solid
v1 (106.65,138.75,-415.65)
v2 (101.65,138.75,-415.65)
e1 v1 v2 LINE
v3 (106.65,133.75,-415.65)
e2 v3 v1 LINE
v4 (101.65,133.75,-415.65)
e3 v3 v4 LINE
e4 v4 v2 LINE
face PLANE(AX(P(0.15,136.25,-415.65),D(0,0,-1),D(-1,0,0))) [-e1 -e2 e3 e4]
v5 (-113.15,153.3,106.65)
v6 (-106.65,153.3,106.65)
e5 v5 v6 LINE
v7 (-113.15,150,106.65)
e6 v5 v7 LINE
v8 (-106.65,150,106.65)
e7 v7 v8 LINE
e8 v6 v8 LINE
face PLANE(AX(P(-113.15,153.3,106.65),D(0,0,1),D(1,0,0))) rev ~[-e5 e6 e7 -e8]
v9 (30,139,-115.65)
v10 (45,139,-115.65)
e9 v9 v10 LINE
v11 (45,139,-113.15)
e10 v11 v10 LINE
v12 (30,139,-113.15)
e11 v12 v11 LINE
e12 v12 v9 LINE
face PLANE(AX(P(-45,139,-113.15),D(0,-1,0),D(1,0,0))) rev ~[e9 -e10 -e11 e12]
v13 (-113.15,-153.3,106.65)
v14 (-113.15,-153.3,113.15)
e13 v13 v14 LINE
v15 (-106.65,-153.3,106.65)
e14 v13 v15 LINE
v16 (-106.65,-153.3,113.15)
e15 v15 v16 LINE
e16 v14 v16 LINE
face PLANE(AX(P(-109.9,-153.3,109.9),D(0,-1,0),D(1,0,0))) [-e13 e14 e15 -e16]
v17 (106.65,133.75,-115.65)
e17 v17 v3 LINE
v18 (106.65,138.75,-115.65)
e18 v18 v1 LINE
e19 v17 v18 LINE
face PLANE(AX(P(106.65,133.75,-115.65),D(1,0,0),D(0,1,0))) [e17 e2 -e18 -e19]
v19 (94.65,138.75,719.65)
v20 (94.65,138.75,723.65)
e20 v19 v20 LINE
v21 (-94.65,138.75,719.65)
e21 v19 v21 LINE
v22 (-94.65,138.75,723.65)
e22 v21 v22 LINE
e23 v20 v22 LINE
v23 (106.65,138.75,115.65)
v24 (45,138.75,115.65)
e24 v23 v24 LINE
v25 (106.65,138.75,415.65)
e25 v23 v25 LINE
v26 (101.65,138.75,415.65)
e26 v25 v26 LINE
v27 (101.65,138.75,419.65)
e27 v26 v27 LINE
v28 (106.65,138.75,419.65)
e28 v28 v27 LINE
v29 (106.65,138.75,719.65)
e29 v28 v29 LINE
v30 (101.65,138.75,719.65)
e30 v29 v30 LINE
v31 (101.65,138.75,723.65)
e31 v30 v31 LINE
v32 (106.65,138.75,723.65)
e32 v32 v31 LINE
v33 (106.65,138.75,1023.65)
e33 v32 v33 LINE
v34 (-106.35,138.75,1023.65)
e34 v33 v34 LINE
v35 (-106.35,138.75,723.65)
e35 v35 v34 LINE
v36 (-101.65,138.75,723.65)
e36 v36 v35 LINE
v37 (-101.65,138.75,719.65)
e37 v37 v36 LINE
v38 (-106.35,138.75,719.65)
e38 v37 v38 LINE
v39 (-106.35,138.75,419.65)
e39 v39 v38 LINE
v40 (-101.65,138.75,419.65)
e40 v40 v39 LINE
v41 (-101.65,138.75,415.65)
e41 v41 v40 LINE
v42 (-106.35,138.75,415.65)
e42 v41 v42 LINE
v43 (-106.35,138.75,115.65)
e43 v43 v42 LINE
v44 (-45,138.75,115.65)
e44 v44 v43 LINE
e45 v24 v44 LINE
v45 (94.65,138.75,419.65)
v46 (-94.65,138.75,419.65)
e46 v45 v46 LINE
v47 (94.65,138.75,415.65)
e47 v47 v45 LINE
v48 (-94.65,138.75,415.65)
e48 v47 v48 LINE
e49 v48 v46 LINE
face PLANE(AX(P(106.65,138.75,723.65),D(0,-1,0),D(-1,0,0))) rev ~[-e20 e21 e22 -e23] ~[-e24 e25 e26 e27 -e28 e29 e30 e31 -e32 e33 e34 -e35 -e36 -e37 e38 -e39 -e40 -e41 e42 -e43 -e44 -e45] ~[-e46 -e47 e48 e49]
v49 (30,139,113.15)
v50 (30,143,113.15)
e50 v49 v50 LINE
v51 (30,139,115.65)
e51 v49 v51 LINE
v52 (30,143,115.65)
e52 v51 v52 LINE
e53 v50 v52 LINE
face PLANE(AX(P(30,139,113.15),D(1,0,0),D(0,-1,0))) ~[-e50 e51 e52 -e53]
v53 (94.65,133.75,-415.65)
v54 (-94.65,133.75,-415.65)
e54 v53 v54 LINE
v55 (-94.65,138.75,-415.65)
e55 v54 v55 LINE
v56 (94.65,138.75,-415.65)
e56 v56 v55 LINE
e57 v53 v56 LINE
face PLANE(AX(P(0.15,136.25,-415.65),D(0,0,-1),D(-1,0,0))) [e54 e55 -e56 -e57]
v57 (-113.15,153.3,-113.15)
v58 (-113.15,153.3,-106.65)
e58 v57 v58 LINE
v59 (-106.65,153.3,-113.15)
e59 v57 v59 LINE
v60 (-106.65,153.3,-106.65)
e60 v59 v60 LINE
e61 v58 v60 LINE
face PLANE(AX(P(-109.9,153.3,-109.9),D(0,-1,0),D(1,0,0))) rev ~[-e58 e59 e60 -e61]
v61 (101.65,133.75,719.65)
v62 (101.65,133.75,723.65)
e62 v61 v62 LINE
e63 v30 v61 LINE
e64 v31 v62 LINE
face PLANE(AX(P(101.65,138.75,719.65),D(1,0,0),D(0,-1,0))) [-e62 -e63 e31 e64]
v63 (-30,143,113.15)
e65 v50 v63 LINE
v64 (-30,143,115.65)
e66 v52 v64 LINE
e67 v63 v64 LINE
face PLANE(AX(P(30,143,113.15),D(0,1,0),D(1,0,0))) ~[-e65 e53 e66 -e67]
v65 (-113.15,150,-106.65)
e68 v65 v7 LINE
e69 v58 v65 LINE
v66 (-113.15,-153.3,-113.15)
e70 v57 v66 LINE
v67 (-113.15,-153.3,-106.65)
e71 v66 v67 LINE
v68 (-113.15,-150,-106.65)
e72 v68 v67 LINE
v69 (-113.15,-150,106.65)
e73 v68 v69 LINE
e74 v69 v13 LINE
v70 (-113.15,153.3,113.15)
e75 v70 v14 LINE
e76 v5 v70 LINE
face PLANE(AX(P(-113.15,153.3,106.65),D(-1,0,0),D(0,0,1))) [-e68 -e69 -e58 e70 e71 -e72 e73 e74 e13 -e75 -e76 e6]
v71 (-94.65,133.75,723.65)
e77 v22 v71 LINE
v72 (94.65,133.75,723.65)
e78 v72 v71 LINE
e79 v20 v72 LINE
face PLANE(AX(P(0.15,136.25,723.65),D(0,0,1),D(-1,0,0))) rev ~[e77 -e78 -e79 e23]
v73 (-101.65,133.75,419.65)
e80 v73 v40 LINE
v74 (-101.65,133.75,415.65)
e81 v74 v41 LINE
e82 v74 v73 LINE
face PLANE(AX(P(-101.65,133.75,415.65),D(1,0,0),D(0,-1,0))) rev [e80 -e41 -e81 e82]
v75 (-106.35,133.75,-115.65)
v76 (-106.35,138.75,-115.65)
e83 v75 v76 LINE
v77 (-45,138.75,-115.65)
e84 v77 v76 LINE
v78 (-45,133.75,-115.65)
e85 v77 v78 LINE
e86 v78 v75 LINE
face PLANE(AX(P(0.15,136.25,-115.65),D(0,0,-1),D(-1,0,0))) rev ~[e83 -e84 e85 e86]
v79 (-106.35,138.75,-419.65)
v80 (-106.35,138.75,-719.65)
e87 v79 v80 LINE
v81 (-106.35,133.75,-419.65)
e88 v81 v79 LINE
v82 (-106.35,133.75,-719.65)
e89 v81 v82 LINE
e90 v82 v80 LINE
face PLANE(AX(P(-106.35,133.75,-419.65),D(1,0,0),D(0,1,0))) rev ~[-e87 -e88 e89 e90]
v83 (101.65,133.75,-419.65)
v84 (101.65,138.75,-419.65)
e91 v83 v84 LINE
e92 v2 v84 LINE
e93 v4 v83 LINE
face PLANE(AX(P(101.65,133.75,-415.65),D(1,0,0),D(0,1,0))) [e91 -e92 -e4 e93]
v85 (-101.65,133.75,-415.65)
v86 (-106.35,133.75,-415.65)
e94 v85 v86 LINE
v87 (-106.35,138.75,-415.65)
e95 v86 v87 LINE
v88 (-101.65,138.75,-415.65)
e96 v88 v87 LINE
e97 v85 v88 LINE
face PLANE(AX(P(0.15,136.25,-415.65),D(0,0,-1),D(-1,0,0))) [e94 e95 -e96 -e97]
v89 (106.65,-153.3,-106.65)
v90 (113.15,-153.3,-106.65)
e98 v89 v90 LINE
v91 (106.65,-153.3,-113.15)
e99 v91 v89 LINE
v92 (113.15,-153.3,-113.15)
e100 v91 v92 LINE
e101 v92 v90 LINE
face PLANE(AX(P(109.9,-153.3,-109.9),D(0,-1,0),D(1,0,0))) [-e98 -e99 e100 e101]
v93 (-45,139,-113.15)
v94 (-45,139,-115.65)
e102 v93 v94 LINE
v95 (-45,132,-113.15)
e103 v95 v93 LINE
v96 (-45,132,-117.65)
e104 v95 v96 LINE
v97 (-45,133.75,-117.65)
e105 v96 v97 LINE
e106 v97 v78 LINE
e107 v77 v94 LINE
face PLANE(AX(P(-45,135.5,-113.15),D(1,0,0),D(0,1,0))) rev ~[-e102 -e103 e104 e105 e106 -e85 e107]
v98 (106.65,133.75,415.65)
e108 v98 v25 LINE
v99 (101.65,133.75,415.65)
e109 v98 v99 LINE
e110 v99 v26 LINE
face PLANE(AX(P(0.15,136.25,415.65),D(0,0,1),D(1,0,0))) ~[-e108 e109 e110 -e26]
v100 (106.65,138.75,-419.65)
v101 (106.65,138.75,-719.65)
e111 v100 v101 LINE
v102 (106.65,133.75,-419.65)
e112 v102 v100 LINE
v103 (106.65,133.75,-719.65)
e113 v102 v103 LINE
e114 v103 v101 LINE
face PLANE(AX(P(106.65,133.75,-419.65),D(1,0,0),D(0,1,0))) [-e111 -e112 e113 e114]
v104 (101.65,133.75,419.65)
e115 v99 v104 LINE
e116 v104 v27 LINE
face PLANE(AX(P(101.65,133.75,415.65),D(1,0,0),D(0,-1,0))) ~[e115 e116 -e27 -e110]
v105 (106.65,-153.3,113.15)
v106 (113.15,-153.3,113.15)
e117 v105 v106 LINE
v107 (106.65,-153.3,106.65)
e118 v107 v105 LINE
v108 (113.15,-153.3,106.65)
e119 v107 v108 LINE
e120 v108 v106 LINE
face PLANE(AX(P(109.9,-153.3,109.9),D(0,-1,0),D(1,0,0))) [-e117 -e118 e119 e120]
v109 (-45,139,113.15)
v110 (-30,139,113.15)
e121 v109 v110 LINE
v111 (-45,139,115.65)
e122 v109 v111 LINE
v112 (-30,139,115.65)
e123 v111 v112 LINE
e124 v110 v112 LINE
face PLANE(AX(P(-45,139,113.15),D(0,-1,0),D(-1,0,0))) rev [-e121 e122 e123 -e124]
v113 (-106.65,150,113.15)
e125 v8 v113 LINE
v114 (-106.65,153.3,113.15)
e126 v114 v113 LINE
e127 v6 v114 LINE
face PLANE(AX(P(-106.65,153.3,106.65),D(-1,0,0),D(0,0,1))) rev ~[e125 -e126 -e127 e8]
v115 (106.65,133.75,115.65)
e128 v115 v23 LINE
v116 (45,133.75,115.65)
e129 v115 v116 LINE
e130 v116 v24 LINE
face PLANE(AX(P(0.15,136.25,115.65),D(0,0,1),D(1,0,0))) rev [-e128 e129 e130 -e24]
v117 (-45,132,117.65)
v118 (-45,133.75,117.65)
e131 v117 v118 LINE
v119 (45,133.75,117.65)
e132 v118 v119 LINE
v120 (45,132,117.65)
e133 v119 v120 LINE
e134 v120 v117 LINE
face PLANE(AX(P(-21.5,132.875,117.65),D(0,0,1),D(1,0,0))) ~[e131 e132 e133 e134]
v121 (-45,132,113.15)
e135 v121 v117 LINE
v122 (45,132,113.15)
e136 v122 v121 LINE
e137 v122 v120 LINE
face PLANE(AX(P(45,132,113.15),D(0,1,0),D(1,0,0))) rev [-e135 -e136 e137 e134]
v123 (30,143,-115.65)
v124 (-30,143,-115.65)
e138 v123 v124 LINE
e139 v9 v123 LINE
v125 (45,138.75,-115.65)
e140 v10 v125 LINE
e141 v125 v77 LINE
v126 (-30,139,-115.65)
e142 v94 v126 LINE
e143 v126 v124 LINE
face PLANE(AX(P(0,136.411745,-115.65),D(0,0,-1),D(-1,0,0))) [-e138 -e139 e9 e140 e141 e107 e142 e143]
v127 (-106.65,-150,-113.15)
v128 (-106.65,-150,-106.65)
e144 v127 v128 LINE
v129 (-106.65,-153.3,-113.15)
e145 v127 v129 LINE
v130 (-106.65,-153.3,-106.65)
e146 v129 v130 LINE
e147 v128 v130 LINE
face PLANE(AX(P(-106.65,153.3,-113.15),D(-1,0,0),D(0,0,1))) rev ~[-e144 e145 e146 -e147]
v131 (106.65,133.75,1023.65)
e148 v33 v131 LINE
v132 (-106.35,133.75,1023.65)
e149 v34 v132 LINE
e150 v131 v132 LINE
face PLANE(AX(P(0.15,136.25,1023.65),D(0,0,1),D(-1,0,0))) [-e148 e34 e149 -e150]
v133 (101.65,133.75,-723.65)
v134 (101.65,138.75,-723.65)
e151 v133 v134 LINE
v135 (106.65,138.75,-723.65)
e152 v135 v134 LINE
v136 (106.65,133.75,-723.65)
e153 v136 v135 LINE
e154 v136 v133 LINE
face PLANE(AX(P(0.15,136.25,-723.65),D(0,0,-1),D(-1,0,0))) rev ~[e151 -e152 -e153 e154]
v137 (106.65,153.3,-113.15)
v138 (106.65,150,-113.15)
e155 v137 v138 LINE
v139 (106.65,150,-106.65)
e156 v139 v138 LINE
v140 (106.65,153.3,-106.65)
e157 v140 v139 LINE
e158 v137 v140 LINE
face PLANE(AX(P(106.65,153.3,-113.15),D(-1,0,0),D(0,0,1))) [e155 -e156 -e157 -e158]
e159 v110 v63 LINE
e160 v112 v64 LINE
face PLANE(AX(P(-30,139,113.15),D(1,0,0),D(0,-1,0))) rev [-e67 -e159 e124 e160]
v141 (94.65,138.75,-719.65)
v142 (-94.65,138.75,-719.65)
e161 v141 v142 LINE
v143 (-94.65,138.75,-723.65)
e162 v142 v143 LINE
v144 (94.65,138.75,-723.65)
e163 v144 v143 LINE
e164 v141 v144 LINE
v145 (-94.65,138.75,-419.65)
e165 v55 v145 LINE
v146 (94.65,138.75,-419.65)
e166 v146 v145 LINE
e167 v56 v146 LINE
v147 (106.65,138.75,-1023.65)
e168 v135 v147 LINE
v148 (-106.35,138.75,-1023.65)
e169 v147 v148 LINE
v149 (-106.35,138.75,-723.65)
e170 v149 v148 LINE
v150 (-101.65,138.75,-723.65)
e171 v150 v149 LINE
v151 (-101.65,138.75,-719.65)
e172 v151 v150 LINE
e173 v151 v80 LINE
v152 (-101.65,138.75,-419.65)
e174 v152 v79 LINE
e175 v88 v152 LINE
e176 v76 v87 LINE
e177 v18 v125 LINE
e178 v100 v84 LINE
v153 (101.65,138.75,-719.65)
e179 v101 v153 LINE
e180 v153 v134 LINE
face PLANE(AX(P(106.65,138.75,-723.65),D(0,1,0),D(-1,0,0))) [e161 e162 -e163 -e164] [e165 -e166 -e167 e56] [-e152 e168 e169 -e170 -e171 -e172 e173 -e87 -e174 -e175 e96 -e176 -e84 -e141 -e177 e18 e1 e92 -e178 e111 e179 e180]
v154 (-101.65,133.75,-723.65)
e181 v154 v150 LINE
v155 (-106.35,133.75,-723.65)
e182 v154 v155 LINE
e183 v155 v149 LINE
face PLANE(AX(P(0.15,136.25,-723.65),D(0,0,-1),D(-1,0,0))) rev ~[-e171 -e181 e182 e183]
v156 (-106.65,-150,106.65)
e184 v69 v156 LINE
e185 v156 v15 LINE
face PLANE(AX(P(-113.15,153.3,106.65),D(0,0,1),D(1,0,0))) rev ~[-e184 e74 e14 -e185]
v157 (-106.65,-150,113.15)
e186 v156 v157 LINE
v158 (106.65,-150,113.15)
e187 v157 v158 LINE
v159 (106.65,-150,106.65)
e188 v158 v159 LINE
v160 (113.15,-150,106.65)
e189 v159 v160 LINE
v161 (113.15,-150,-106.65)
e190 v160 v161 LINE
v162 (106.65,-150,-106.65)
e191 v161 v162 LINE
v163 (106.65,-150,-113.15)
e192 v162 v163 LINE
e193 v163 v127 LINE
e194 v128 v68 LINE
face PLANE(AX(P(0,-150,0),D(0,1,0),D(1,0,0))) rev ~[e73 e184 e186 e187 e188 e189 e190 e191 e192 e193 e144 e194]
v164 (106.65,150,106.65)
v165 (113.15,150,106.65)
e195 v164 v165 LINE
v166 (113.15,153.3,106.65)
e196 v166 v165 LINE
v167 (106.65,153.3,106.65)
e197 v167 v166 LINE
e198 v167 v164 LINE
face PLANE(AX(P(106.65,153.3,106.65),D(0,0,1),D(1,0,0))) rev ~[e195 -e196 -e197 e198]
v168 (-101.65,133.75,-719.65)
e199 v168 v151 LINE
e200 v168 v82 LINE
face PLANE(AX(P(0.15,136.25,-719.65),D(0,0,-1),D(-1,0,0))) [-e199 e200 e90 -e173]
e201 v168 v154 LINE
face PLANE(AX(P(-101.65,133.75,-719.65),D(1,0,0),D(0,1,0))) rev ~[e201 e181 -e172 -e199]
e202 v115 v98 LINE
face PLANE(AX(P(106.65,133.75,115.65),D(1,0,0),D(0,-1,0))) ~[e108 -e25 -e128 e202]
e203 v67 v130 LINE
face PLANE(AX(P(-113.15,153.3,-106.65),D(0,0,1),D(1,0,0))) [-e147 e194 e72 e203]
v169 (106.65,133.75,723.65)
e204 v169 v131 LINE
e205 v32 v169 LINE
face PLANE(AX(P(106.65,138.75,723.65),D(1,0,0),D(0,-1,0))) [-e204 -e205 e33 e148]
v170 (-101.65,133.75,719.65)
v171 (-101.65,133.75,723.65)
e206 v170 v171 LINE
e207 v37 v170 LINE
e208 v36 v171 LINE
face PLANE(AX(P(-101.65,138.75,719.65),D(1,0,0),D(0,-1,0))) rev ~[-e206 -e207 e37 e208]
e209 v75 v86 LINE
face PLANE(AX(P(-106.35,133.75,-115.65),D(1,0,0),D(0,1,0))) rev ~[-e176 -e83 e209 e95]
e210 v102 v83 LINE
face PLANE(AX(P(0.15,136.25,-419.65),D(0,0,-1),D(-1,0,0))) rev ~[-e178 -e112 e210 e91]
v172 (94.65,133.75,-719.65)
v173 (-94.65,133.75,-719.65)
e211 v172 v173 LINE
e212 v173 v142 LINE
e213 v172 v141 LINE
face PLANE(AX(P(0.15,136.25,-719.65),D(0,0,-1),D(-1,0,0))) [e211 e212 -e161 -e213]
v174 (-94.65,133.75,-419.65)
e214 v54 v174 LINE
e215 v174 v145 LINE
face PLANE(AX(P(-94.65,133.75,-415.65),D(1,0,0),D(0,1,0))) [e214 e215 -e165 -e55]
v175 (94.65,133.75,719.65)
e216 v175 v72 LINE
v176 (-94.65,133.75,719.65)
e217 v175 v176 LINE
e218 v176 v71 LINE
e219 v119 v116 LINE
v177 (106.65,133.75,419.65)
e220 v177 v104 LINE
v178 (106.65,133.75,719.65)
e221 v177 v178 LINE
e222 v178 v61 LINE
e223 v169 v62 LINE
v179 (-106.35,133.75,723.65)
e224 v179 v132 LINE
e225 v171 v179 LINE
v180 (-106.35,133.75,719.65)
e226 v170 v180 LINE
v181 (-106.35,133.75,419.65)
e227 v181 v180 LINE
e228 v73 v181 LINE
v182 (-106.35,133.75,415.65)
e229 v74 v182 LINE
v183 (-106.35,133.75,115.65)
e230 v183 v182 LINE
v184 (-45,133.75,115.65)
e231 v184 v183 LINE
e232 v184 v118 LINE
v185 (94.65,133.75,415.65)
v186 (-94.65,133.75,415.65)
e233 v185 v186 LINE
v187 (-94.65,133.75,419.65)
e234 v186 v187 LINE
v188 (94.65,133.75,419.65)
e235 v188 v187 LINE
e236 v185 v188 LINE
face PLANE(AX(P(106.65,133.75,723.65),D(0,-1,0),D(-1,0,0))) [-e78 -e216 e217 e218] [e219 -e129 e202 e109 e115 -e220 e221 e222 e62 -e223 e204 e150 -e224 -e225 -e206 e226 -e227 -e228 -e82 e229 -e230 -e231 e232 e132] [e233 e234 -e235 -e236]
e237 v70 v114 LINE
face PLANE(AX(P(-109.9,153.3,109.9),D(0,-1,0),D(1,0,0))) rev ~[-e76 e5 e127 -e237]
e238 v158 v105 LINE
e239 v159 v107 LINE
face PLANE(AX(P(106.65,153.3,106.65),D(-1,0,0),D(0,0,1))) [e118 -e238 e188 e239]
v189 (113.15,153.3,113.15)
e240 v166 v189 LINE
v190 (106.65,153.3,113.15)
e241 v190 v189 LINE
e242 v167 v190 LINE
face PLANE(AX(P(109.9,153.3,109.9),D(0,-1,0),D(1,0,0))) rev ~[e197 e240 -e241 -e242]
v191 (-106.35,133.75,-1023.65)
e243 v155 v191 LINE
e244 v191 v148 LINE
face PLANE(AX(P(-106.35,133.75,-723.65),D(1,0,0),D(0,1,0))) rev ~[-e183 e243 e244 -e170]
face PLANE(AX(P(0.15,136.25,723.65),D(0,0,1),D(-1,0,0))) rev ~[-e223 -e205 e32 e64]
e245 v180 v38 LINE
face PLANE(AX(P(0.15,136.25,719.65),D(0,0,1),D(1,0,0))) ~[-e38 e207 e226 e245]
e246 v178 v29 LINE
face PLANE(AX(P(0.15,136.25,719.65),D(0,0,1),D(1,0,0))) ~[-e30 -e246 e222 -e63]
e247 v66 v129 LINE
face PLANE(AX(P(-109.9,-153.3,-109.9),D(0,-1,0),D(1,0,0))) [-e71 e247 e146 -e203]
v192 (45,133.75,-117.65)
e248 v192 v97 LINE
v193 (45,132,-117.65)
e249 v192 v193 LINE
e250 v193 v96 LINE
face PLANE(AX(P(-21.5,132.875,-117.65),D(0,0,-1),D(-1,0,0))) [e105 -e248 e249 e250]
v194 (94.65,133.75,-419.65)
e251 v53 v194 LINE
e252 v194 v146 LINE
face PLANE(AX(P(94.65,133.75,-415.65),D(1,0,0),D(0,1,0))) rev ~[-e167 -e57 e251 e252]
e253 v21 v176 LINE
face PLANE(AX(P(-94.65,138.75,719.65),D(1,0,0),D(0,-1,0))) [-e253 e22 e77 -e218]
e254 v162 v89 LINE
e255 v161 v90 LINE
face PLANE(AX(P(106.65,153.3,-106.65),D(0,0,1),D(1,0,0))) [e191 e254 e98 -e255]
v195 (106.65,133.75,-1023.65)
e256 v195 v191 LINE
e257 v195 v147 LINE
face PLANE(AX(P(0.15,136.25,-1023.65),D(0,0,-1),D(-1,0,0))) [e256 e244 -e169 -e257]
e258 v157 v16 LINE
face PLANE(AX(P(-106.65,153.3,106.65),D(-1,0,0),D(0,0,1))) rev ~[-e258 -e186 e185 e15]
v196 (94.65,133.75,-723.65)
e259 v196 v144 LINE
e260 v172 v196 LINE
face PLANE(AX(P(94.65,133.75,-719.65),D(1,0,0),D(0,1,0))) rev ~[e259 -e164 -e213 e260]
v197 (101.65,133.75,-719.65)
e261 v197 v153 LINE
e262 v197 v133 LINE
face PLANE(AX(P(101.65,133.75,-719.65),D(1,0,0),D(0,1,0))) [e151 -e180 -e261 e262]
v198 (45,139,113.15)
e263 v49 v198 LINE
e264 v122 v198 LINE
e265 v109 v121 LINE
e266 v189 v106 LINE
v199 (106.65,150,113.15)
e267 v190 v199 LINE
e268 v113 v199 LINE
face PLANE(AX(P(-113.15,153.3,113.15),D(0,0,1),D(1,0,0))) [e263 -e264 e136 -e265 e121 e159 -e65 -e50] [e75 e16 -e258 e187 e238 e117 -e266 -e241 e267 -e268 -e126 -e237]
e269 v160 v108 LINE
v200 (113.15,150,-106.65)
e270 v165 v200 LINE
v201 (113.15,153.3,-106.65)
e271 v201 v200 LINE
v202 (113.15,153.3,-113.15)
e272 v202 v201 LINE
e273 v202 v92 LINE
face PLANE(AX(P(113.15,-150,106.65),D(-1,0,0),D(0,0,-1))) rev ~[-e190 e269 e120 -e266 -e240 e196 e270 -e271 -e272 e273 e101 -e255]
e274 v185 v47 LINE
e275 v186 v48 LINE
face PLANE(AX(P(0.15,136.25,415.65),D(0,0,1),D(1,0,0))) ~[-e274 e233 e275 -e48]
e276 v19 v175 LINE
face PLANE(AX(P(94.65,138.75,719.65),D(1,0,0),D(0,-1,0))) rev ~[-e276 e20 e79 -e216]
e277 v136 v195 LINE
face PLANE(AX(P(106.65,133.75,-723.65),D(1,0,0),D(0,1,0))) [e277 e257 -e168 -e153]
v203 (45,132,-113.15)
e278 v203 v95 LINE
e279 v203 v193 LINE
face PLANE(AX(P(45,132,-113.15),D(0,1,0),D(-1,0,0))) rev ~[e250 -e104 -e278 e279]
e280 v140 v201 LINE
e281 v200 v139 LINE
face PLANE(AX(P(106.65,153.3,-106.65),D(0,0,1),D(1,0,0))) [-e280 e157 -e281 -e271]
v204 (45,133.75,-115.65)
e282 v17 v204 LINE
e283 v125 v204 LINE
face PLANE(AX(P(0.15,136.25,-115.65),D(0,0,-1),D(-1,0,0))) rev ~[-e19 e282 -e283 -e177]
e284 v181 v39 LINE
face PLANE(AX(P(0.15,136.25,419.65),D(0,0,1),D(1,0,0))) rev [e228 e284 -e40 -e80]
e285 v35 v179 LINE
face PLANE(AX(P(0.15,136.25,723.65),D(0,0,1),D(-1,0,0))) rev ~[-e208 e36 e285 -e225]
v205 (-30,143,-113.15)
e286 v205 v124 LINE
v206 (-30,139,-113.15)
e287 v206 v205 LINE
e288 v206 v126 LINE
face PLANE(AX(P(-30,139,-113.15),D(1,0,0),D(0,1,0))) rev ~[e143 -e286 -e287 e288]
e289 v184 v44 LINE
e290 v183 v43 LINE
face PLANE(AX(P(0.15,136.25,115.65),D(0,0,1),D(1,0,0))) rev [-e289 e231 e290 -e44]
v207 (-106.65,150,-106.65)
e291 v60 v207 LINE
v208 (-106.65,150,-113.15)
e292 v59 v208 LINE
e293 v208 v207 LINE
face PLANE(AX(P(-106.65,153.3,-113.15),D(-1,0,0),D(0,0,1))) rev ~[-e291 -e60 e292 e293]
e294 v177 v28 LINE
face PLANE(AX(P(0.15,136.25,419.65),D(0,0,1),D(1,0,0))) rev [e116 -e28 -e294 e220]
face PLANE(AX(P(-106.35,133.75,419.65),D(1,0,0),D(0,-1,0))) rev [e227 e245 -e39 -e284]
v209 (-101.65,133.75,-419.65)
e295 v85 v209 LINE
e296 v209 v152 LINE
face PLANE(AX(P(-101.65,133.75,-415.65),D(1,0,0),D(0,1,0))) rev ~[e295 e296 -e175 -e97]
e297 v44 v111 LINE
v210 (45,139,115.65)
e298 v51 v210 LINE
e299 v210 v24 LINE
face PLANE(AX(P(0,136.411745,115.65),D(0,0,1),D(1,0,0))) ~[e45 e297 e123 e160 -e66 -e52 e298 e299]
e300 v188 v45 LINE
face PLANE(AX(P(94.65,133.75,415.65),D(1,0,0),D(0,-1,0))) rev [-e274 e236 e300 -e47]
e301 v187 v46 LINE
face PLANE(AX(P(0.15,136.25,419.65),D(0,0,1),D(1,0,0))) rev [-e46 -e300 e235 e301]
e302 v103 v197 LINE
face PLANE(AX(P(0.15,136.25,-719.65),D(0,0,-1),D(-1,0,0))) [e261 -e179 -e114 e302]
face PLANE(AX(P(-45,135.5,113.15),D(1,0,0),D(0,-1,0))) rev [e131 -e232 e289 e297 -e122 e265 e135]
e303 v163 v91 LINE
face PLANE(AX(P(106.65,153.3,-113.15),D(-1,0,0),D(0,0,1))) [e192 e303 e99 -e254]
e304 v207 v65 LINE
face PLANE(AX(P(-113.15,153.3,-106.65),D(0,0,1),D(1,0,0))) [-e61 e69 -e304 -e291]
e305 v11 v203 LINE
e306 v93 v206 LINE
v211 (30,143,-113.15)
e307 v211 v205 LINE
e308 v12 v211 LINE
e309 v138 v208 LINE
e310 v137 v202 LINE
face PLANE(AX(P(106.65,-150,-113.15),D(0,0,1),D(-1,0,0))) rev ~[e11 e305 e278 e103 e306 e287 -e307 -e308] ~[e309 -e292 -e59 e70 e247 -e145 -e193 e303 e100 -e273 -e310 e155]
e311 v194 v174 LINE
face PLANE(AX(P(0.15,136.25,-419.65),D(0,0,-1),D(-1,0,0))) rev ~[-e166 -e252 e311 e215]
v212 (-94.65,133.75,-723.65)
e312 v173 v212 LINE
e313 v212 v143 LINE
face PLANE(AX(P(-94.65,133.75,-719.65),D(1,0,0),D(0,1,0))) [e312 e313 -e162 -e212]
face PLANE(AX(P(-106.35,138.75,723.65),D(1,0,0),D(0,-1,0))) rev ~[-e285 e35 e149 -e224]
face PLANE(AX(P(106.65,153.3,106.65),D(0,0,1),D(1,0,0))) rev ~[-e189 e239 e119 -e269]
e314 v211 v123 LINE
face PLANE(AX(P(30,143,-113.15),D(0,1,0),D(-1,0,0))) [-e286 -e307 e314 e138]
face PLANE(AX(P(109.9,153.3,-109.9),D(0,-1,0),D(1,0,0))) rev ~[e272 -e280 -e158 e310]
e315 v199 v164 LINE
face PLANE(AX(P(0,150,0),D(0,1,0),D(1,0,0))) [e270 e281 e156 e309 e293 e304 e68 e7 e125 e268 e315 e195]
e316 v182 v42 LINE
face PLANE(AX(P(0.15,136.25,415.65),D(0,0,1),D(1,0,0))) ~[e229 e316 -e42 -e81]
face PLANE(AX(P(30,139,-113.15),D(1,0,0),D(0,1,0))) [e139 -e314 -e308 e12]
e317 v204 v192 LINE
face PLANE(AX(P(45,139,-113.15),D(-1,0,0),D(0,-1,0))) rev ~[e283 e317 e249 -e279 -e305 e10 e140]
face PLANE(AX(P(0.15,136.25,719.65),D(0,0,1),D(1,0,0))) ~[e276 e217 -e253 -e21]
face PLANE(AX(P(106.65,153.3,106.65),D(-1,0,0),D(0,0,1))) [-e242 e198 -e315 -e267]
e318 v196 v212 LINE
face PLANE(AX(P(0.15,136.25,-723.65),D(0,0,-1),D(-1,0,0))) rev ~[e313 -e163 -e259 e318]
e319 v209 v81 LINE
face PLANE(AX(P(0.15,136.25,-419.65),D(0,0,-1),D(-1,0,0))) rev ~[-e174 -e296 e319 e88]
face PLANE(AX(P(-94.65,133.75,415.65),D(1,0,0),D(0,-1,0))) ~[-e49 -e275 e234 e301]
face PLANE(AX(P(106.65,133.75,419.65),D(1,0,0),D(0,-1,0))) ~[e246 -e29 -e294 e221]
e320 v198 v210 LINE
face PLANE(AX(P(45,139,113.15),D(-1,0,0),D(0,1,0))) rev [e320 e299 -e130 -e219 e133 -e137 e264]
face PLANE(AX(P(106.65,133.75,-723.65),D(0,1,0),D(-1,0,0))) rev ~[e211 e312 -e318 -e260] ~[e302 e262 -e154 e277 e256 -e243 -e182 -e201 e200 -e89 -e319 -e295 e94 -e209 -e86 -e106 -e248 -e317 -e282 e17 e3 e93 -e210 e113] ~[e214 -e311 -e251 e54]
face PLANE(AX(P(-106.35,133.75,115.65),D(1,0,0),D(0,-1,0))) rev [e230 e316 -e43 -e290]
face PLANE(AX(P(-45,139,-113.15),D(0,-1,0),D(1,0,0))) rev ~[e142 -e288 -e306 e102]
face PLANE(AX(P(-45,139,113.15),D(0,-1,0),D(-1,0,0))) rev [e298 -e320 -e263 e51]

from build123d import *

# Parameters (mm, degrees)
ESTRUSIONE_ESTRUSIONE2_DEPTH      = 150
ESTRUSIONE_ESTRUSIONE2_DEPTH_BACK = 150
ESTRUSIONE_ESTRUSIONE3_DEPTH      = 3.3
ESTRUSIONE_ESTRUSIONE3_DEPTH_BACK = 303.3
SCHIZZO3_W                        = 6.5
SCHIZZO3_H                        = 6.5
SCHIZZO11_W                       = 60
SCHIZZO11_H                       = 4
ESTRUSIONE_ESTRUSIONE10_DEPTH     = 2.5
ESTRUSIONE_ESTRUSIONE11_DEPTH     = 2.5
ESTRUSIONE_ESTRUSIONE12_DEPTH     = 4.5
SCHIZZO13_W                       = 213
SCHIZZO13_H                       = 5
ESTRUSIONE_ESTRUSIONE13_DEPTH     = 300
SCHIZZO15_W                       = 7
SCHIZZO15_H                       = 5
ESTRUSIONE_ESTRUSIONE14_DEPTH     = 4
SCHIZZO16_W                       = 213
SCHIZZO16_H                       = 5
ESTRUSIONE_ESTRUSIONE15_DEPTH     = 300
RIPETIZIONE_A_L2_COUNT            = 2
RIPETIZIONE_A_L2_PITCH            = 304
SPECCHIA2_COPY_1_SKETCH_W         = 7
SPECCHIA2_COPY_1_SKETCH_H         = 5
SPECCHIA2_COPY_1_DEPTH            = 4
SPECCHIA2_COPY_2_SKETCH_W         = 213
SPECCHIA2_COPY_2_SKETCH_H         = 5
SPECCHIA2_COPY_2_DEPTH            = 300


with BuildPart() as part:
    # Schizzo2 → Estrusione-Estrusione2 (new, two sides: drawn at the far end of the back side and taken through both)
    with BuildSketch(Plane(origin=(0, 0, 0), x_dir=(1, 0, 0), z_dir=(0, 1, 0)).offset(-ESTRUSIONE_ESTRUSIONE2_DEPTH_BACK)):
        Polygon((-113.15, 106.65), (-113.15, -106.65), (-106.65, -106.65), (-106.65, -113.15), (106.65, -113.15), (106.65, -106.65), (113.15, -106.65), (113.15, 106.65), (106.65, 106.65), (106.65, 113.15), (-106.65, 113.15), (-106.65, 106.65), align=None)
    extrude(amount=ESTRUSIONE_ESTRUSIONE2_DEPTH + ESTRUSIONE_ESTRUSIONE2_DEPTH_BACK)

    # Schizzo3 → Estrusione-Estrusione3 (add, two sides: drawn at the far end of the back side and taken through both)
    with BuildSketch(Plane.XZ.offset(150).offset(-ESTRUSIONE_ESTRUSIONE3_DEPTH_BACK)):
        with Locations((-109.9, 109.9)):
            Rectangle(SCHIZZO3_W, SCHIZZO3_H)
        with Locations((109.9, 109.9)):
            Rectangle(SCHIZZO3_W, SCHIZZO3_H)
        with Locations((109.9, -109.9)):
            Rectangle(SCHIZZO3_W, SCHIZZO3_H)
        with Locations((-109.9, -109.9)):
            Rectangle(SCHIZZO3_W, SCHIZZO3_H)
    extrude(amount=ESTRUSIONE_ESTRUSIONE3_DEPTH + ESTRUSIONE_ESTRUSIONE3_DEPTH_BACK)

    # Schizzo11 → Estrusione-Estrusione10 (add)
    with BuildSketch(Plane(origin=(0, 0, -113.15), x_dir=(-1, 0, 0), z_dir=(0, 0, -1))):
        with Locations((0, 141)):
            Rectangle(SCHIZZO11_W, SCHIZZO11_H)
    estrusione_estrusione10 = extrude(amount=ESTRUSIONE_ESTRUSIONE10_DEPTH)

    # Schizzo11<5> → Estrusione-Estrusione11 (add)
    with BuildSketch(Plane(origin=(0, 0, -113.15), x_dir=(-1, 0, 0), z_dir=(0, 0, -1))):
        Polygon((30, 139), (-30, 139), (-45, 139), (-45, 135.5), (-43, 135.5), (-43, 133.75), (0, 133.75), (43, 133.75), (43, 135.5), (45, 135.5), (45, 139), align=None)
    estrusione_estrusione11 = extrude(amount=ESTRUSIONE_ESTRUSIONE11_DEPTH)

    # Schizzo11<8> → Estrusione-Estrusione12 (add)
    with BuildSketch(Plane(origin=(0, 0, -113.15), x_dir=(-1, 0, 0), z_dir=(0, 0, -1))):
        Polygon((-43, 135.5), (-45, 135.5), (-45, 132), (45, 132), (45, 135.5), (43, 135.5), (43, 133.75), (-43, 133.75), align=None)
    estrusione_estrusione12 = extrude(amount=ESTRUSIONE_ESTRUSIONE12_DEPTH)

    # Schizzo13 → Estrusione-Estrusione13 (add)
    with BuildSketch(Plane(origin=(0, 0, -115.65), x_dir=(-1, 0, 0), z_dir=(0, 0, -1))):
        with Locations((-0.15, 136.25)):
            Rectangle(SCHIZZO13_W, SCHIZZO13_H)
    estrusione_estrusione13 = extrude(amount=ESTRUSIONE_ESTRUSIONE13_DEPTH)

    # Schizzo15 → Estrusione-Estrusione14 (add)
    with BuildSketch(Plane(origin=(0, 0, -415.65), x_dir=(-1, 0, 0), z_dir=(0, 0, -1))):
        with Locations((-98.15, 136.25)):
            Rectangle(SCHIZZO15_W, SCHIZZO15_H)
        with Locations((98.15, 136.25)):
            Rectangle(SCHIZZO15_W, SCHIZZO15_H)
    estrusione_estrusione14 = extrude(amount=ESTRUSIONE_ESTRUSIONE14_DEPTH)

    # Schizzo16 → Estrusione-Estrusione15 (add)
    with BuildSketch(Plane(origin=(0, 0, -419.65), x_dir=(-1, 0, 0), z_dir=(0, 0, -1))):
        with Locations((-0.15, 136.25)):
            Rectangle(SCHIZZO16_W, SCHIZZO16_H)
    estrusione_estrusione15 = extrude(amount=ESTRUSIONE_ESTRUSIONE15_DEPTH)

    # Ripetizione a L2: Estrusione-Estrusione14, Estrusione-Estrusione15 ×2
    with Locations(*[(0, 0, -i * RIPETIZIONE_A_L2_PITCH) for i in range(1, RIPETIZIONE_A_L2_COUNT)]):
        add(estrusione_estrusione14)
        add(estrusione_estrusione15)

    # Specchia2: Estrusione-Estrusione10, Estrusione-Estrusione11, Estrusione-Estrusione12, Estrusione-Estrusione13, Estrusione-Estrusione14, Estrusione-Estrusione15 across plane
    add(estrusione_estrusione10.mirror(Plane.XY))
    add(estrusione_estrusione11.mirror(Plane.XY))
    add(estrusione_estrusione12.mirror(Plane.XY))
    add(estrusione_estrusione13.mirror(Plane.XY))
    add(estrusione_estrusione14.mirror(Plane.XY))
    add(estrusione_estrusione15.mirror(Plane.XY))

    # Specchia2 copy 1 sketch → Specchia2 copy 1 (add)
    with BuildSketch(Plane(origin=(0, 0, 719.65), x_dir=(-1, 0, 0), z_dir=(0, 0, 1))):
        with Locations((-98.15, -136.25)):
            Rectangle(SPECCHIA2_COPY_1_SKETCH_W, SPECCHIA2_COPY_1_SKETCH_H)
        with Locations((98.15, -136.25)):
            Rectangle(SPECCHIA2_COPY_1_SKETCH_W, SPECCHIA2_COPY_1_SKETCH_H)
    extrude(amount=SPECCHIA2_COPY_1_DEPTH)

    # Specchia2 copy 2 sketch → Specchia2 copy 2 (add)
    with BuildSketch(Plane(origin=(0, 0, 723.65), x_dir=(-1, 0, 0), z_dir=(0, 0, 1))):
        with Locations((-0.15, -136.25)):
            Rectangle(SPECCHIA2_COPY_2_SKETCH_W, SPECCHIA2_COPY_2_SKETCH_H)
    extrude(amount=SPECCHIA2_COPY_2_DEPTH)


solid = part.part
